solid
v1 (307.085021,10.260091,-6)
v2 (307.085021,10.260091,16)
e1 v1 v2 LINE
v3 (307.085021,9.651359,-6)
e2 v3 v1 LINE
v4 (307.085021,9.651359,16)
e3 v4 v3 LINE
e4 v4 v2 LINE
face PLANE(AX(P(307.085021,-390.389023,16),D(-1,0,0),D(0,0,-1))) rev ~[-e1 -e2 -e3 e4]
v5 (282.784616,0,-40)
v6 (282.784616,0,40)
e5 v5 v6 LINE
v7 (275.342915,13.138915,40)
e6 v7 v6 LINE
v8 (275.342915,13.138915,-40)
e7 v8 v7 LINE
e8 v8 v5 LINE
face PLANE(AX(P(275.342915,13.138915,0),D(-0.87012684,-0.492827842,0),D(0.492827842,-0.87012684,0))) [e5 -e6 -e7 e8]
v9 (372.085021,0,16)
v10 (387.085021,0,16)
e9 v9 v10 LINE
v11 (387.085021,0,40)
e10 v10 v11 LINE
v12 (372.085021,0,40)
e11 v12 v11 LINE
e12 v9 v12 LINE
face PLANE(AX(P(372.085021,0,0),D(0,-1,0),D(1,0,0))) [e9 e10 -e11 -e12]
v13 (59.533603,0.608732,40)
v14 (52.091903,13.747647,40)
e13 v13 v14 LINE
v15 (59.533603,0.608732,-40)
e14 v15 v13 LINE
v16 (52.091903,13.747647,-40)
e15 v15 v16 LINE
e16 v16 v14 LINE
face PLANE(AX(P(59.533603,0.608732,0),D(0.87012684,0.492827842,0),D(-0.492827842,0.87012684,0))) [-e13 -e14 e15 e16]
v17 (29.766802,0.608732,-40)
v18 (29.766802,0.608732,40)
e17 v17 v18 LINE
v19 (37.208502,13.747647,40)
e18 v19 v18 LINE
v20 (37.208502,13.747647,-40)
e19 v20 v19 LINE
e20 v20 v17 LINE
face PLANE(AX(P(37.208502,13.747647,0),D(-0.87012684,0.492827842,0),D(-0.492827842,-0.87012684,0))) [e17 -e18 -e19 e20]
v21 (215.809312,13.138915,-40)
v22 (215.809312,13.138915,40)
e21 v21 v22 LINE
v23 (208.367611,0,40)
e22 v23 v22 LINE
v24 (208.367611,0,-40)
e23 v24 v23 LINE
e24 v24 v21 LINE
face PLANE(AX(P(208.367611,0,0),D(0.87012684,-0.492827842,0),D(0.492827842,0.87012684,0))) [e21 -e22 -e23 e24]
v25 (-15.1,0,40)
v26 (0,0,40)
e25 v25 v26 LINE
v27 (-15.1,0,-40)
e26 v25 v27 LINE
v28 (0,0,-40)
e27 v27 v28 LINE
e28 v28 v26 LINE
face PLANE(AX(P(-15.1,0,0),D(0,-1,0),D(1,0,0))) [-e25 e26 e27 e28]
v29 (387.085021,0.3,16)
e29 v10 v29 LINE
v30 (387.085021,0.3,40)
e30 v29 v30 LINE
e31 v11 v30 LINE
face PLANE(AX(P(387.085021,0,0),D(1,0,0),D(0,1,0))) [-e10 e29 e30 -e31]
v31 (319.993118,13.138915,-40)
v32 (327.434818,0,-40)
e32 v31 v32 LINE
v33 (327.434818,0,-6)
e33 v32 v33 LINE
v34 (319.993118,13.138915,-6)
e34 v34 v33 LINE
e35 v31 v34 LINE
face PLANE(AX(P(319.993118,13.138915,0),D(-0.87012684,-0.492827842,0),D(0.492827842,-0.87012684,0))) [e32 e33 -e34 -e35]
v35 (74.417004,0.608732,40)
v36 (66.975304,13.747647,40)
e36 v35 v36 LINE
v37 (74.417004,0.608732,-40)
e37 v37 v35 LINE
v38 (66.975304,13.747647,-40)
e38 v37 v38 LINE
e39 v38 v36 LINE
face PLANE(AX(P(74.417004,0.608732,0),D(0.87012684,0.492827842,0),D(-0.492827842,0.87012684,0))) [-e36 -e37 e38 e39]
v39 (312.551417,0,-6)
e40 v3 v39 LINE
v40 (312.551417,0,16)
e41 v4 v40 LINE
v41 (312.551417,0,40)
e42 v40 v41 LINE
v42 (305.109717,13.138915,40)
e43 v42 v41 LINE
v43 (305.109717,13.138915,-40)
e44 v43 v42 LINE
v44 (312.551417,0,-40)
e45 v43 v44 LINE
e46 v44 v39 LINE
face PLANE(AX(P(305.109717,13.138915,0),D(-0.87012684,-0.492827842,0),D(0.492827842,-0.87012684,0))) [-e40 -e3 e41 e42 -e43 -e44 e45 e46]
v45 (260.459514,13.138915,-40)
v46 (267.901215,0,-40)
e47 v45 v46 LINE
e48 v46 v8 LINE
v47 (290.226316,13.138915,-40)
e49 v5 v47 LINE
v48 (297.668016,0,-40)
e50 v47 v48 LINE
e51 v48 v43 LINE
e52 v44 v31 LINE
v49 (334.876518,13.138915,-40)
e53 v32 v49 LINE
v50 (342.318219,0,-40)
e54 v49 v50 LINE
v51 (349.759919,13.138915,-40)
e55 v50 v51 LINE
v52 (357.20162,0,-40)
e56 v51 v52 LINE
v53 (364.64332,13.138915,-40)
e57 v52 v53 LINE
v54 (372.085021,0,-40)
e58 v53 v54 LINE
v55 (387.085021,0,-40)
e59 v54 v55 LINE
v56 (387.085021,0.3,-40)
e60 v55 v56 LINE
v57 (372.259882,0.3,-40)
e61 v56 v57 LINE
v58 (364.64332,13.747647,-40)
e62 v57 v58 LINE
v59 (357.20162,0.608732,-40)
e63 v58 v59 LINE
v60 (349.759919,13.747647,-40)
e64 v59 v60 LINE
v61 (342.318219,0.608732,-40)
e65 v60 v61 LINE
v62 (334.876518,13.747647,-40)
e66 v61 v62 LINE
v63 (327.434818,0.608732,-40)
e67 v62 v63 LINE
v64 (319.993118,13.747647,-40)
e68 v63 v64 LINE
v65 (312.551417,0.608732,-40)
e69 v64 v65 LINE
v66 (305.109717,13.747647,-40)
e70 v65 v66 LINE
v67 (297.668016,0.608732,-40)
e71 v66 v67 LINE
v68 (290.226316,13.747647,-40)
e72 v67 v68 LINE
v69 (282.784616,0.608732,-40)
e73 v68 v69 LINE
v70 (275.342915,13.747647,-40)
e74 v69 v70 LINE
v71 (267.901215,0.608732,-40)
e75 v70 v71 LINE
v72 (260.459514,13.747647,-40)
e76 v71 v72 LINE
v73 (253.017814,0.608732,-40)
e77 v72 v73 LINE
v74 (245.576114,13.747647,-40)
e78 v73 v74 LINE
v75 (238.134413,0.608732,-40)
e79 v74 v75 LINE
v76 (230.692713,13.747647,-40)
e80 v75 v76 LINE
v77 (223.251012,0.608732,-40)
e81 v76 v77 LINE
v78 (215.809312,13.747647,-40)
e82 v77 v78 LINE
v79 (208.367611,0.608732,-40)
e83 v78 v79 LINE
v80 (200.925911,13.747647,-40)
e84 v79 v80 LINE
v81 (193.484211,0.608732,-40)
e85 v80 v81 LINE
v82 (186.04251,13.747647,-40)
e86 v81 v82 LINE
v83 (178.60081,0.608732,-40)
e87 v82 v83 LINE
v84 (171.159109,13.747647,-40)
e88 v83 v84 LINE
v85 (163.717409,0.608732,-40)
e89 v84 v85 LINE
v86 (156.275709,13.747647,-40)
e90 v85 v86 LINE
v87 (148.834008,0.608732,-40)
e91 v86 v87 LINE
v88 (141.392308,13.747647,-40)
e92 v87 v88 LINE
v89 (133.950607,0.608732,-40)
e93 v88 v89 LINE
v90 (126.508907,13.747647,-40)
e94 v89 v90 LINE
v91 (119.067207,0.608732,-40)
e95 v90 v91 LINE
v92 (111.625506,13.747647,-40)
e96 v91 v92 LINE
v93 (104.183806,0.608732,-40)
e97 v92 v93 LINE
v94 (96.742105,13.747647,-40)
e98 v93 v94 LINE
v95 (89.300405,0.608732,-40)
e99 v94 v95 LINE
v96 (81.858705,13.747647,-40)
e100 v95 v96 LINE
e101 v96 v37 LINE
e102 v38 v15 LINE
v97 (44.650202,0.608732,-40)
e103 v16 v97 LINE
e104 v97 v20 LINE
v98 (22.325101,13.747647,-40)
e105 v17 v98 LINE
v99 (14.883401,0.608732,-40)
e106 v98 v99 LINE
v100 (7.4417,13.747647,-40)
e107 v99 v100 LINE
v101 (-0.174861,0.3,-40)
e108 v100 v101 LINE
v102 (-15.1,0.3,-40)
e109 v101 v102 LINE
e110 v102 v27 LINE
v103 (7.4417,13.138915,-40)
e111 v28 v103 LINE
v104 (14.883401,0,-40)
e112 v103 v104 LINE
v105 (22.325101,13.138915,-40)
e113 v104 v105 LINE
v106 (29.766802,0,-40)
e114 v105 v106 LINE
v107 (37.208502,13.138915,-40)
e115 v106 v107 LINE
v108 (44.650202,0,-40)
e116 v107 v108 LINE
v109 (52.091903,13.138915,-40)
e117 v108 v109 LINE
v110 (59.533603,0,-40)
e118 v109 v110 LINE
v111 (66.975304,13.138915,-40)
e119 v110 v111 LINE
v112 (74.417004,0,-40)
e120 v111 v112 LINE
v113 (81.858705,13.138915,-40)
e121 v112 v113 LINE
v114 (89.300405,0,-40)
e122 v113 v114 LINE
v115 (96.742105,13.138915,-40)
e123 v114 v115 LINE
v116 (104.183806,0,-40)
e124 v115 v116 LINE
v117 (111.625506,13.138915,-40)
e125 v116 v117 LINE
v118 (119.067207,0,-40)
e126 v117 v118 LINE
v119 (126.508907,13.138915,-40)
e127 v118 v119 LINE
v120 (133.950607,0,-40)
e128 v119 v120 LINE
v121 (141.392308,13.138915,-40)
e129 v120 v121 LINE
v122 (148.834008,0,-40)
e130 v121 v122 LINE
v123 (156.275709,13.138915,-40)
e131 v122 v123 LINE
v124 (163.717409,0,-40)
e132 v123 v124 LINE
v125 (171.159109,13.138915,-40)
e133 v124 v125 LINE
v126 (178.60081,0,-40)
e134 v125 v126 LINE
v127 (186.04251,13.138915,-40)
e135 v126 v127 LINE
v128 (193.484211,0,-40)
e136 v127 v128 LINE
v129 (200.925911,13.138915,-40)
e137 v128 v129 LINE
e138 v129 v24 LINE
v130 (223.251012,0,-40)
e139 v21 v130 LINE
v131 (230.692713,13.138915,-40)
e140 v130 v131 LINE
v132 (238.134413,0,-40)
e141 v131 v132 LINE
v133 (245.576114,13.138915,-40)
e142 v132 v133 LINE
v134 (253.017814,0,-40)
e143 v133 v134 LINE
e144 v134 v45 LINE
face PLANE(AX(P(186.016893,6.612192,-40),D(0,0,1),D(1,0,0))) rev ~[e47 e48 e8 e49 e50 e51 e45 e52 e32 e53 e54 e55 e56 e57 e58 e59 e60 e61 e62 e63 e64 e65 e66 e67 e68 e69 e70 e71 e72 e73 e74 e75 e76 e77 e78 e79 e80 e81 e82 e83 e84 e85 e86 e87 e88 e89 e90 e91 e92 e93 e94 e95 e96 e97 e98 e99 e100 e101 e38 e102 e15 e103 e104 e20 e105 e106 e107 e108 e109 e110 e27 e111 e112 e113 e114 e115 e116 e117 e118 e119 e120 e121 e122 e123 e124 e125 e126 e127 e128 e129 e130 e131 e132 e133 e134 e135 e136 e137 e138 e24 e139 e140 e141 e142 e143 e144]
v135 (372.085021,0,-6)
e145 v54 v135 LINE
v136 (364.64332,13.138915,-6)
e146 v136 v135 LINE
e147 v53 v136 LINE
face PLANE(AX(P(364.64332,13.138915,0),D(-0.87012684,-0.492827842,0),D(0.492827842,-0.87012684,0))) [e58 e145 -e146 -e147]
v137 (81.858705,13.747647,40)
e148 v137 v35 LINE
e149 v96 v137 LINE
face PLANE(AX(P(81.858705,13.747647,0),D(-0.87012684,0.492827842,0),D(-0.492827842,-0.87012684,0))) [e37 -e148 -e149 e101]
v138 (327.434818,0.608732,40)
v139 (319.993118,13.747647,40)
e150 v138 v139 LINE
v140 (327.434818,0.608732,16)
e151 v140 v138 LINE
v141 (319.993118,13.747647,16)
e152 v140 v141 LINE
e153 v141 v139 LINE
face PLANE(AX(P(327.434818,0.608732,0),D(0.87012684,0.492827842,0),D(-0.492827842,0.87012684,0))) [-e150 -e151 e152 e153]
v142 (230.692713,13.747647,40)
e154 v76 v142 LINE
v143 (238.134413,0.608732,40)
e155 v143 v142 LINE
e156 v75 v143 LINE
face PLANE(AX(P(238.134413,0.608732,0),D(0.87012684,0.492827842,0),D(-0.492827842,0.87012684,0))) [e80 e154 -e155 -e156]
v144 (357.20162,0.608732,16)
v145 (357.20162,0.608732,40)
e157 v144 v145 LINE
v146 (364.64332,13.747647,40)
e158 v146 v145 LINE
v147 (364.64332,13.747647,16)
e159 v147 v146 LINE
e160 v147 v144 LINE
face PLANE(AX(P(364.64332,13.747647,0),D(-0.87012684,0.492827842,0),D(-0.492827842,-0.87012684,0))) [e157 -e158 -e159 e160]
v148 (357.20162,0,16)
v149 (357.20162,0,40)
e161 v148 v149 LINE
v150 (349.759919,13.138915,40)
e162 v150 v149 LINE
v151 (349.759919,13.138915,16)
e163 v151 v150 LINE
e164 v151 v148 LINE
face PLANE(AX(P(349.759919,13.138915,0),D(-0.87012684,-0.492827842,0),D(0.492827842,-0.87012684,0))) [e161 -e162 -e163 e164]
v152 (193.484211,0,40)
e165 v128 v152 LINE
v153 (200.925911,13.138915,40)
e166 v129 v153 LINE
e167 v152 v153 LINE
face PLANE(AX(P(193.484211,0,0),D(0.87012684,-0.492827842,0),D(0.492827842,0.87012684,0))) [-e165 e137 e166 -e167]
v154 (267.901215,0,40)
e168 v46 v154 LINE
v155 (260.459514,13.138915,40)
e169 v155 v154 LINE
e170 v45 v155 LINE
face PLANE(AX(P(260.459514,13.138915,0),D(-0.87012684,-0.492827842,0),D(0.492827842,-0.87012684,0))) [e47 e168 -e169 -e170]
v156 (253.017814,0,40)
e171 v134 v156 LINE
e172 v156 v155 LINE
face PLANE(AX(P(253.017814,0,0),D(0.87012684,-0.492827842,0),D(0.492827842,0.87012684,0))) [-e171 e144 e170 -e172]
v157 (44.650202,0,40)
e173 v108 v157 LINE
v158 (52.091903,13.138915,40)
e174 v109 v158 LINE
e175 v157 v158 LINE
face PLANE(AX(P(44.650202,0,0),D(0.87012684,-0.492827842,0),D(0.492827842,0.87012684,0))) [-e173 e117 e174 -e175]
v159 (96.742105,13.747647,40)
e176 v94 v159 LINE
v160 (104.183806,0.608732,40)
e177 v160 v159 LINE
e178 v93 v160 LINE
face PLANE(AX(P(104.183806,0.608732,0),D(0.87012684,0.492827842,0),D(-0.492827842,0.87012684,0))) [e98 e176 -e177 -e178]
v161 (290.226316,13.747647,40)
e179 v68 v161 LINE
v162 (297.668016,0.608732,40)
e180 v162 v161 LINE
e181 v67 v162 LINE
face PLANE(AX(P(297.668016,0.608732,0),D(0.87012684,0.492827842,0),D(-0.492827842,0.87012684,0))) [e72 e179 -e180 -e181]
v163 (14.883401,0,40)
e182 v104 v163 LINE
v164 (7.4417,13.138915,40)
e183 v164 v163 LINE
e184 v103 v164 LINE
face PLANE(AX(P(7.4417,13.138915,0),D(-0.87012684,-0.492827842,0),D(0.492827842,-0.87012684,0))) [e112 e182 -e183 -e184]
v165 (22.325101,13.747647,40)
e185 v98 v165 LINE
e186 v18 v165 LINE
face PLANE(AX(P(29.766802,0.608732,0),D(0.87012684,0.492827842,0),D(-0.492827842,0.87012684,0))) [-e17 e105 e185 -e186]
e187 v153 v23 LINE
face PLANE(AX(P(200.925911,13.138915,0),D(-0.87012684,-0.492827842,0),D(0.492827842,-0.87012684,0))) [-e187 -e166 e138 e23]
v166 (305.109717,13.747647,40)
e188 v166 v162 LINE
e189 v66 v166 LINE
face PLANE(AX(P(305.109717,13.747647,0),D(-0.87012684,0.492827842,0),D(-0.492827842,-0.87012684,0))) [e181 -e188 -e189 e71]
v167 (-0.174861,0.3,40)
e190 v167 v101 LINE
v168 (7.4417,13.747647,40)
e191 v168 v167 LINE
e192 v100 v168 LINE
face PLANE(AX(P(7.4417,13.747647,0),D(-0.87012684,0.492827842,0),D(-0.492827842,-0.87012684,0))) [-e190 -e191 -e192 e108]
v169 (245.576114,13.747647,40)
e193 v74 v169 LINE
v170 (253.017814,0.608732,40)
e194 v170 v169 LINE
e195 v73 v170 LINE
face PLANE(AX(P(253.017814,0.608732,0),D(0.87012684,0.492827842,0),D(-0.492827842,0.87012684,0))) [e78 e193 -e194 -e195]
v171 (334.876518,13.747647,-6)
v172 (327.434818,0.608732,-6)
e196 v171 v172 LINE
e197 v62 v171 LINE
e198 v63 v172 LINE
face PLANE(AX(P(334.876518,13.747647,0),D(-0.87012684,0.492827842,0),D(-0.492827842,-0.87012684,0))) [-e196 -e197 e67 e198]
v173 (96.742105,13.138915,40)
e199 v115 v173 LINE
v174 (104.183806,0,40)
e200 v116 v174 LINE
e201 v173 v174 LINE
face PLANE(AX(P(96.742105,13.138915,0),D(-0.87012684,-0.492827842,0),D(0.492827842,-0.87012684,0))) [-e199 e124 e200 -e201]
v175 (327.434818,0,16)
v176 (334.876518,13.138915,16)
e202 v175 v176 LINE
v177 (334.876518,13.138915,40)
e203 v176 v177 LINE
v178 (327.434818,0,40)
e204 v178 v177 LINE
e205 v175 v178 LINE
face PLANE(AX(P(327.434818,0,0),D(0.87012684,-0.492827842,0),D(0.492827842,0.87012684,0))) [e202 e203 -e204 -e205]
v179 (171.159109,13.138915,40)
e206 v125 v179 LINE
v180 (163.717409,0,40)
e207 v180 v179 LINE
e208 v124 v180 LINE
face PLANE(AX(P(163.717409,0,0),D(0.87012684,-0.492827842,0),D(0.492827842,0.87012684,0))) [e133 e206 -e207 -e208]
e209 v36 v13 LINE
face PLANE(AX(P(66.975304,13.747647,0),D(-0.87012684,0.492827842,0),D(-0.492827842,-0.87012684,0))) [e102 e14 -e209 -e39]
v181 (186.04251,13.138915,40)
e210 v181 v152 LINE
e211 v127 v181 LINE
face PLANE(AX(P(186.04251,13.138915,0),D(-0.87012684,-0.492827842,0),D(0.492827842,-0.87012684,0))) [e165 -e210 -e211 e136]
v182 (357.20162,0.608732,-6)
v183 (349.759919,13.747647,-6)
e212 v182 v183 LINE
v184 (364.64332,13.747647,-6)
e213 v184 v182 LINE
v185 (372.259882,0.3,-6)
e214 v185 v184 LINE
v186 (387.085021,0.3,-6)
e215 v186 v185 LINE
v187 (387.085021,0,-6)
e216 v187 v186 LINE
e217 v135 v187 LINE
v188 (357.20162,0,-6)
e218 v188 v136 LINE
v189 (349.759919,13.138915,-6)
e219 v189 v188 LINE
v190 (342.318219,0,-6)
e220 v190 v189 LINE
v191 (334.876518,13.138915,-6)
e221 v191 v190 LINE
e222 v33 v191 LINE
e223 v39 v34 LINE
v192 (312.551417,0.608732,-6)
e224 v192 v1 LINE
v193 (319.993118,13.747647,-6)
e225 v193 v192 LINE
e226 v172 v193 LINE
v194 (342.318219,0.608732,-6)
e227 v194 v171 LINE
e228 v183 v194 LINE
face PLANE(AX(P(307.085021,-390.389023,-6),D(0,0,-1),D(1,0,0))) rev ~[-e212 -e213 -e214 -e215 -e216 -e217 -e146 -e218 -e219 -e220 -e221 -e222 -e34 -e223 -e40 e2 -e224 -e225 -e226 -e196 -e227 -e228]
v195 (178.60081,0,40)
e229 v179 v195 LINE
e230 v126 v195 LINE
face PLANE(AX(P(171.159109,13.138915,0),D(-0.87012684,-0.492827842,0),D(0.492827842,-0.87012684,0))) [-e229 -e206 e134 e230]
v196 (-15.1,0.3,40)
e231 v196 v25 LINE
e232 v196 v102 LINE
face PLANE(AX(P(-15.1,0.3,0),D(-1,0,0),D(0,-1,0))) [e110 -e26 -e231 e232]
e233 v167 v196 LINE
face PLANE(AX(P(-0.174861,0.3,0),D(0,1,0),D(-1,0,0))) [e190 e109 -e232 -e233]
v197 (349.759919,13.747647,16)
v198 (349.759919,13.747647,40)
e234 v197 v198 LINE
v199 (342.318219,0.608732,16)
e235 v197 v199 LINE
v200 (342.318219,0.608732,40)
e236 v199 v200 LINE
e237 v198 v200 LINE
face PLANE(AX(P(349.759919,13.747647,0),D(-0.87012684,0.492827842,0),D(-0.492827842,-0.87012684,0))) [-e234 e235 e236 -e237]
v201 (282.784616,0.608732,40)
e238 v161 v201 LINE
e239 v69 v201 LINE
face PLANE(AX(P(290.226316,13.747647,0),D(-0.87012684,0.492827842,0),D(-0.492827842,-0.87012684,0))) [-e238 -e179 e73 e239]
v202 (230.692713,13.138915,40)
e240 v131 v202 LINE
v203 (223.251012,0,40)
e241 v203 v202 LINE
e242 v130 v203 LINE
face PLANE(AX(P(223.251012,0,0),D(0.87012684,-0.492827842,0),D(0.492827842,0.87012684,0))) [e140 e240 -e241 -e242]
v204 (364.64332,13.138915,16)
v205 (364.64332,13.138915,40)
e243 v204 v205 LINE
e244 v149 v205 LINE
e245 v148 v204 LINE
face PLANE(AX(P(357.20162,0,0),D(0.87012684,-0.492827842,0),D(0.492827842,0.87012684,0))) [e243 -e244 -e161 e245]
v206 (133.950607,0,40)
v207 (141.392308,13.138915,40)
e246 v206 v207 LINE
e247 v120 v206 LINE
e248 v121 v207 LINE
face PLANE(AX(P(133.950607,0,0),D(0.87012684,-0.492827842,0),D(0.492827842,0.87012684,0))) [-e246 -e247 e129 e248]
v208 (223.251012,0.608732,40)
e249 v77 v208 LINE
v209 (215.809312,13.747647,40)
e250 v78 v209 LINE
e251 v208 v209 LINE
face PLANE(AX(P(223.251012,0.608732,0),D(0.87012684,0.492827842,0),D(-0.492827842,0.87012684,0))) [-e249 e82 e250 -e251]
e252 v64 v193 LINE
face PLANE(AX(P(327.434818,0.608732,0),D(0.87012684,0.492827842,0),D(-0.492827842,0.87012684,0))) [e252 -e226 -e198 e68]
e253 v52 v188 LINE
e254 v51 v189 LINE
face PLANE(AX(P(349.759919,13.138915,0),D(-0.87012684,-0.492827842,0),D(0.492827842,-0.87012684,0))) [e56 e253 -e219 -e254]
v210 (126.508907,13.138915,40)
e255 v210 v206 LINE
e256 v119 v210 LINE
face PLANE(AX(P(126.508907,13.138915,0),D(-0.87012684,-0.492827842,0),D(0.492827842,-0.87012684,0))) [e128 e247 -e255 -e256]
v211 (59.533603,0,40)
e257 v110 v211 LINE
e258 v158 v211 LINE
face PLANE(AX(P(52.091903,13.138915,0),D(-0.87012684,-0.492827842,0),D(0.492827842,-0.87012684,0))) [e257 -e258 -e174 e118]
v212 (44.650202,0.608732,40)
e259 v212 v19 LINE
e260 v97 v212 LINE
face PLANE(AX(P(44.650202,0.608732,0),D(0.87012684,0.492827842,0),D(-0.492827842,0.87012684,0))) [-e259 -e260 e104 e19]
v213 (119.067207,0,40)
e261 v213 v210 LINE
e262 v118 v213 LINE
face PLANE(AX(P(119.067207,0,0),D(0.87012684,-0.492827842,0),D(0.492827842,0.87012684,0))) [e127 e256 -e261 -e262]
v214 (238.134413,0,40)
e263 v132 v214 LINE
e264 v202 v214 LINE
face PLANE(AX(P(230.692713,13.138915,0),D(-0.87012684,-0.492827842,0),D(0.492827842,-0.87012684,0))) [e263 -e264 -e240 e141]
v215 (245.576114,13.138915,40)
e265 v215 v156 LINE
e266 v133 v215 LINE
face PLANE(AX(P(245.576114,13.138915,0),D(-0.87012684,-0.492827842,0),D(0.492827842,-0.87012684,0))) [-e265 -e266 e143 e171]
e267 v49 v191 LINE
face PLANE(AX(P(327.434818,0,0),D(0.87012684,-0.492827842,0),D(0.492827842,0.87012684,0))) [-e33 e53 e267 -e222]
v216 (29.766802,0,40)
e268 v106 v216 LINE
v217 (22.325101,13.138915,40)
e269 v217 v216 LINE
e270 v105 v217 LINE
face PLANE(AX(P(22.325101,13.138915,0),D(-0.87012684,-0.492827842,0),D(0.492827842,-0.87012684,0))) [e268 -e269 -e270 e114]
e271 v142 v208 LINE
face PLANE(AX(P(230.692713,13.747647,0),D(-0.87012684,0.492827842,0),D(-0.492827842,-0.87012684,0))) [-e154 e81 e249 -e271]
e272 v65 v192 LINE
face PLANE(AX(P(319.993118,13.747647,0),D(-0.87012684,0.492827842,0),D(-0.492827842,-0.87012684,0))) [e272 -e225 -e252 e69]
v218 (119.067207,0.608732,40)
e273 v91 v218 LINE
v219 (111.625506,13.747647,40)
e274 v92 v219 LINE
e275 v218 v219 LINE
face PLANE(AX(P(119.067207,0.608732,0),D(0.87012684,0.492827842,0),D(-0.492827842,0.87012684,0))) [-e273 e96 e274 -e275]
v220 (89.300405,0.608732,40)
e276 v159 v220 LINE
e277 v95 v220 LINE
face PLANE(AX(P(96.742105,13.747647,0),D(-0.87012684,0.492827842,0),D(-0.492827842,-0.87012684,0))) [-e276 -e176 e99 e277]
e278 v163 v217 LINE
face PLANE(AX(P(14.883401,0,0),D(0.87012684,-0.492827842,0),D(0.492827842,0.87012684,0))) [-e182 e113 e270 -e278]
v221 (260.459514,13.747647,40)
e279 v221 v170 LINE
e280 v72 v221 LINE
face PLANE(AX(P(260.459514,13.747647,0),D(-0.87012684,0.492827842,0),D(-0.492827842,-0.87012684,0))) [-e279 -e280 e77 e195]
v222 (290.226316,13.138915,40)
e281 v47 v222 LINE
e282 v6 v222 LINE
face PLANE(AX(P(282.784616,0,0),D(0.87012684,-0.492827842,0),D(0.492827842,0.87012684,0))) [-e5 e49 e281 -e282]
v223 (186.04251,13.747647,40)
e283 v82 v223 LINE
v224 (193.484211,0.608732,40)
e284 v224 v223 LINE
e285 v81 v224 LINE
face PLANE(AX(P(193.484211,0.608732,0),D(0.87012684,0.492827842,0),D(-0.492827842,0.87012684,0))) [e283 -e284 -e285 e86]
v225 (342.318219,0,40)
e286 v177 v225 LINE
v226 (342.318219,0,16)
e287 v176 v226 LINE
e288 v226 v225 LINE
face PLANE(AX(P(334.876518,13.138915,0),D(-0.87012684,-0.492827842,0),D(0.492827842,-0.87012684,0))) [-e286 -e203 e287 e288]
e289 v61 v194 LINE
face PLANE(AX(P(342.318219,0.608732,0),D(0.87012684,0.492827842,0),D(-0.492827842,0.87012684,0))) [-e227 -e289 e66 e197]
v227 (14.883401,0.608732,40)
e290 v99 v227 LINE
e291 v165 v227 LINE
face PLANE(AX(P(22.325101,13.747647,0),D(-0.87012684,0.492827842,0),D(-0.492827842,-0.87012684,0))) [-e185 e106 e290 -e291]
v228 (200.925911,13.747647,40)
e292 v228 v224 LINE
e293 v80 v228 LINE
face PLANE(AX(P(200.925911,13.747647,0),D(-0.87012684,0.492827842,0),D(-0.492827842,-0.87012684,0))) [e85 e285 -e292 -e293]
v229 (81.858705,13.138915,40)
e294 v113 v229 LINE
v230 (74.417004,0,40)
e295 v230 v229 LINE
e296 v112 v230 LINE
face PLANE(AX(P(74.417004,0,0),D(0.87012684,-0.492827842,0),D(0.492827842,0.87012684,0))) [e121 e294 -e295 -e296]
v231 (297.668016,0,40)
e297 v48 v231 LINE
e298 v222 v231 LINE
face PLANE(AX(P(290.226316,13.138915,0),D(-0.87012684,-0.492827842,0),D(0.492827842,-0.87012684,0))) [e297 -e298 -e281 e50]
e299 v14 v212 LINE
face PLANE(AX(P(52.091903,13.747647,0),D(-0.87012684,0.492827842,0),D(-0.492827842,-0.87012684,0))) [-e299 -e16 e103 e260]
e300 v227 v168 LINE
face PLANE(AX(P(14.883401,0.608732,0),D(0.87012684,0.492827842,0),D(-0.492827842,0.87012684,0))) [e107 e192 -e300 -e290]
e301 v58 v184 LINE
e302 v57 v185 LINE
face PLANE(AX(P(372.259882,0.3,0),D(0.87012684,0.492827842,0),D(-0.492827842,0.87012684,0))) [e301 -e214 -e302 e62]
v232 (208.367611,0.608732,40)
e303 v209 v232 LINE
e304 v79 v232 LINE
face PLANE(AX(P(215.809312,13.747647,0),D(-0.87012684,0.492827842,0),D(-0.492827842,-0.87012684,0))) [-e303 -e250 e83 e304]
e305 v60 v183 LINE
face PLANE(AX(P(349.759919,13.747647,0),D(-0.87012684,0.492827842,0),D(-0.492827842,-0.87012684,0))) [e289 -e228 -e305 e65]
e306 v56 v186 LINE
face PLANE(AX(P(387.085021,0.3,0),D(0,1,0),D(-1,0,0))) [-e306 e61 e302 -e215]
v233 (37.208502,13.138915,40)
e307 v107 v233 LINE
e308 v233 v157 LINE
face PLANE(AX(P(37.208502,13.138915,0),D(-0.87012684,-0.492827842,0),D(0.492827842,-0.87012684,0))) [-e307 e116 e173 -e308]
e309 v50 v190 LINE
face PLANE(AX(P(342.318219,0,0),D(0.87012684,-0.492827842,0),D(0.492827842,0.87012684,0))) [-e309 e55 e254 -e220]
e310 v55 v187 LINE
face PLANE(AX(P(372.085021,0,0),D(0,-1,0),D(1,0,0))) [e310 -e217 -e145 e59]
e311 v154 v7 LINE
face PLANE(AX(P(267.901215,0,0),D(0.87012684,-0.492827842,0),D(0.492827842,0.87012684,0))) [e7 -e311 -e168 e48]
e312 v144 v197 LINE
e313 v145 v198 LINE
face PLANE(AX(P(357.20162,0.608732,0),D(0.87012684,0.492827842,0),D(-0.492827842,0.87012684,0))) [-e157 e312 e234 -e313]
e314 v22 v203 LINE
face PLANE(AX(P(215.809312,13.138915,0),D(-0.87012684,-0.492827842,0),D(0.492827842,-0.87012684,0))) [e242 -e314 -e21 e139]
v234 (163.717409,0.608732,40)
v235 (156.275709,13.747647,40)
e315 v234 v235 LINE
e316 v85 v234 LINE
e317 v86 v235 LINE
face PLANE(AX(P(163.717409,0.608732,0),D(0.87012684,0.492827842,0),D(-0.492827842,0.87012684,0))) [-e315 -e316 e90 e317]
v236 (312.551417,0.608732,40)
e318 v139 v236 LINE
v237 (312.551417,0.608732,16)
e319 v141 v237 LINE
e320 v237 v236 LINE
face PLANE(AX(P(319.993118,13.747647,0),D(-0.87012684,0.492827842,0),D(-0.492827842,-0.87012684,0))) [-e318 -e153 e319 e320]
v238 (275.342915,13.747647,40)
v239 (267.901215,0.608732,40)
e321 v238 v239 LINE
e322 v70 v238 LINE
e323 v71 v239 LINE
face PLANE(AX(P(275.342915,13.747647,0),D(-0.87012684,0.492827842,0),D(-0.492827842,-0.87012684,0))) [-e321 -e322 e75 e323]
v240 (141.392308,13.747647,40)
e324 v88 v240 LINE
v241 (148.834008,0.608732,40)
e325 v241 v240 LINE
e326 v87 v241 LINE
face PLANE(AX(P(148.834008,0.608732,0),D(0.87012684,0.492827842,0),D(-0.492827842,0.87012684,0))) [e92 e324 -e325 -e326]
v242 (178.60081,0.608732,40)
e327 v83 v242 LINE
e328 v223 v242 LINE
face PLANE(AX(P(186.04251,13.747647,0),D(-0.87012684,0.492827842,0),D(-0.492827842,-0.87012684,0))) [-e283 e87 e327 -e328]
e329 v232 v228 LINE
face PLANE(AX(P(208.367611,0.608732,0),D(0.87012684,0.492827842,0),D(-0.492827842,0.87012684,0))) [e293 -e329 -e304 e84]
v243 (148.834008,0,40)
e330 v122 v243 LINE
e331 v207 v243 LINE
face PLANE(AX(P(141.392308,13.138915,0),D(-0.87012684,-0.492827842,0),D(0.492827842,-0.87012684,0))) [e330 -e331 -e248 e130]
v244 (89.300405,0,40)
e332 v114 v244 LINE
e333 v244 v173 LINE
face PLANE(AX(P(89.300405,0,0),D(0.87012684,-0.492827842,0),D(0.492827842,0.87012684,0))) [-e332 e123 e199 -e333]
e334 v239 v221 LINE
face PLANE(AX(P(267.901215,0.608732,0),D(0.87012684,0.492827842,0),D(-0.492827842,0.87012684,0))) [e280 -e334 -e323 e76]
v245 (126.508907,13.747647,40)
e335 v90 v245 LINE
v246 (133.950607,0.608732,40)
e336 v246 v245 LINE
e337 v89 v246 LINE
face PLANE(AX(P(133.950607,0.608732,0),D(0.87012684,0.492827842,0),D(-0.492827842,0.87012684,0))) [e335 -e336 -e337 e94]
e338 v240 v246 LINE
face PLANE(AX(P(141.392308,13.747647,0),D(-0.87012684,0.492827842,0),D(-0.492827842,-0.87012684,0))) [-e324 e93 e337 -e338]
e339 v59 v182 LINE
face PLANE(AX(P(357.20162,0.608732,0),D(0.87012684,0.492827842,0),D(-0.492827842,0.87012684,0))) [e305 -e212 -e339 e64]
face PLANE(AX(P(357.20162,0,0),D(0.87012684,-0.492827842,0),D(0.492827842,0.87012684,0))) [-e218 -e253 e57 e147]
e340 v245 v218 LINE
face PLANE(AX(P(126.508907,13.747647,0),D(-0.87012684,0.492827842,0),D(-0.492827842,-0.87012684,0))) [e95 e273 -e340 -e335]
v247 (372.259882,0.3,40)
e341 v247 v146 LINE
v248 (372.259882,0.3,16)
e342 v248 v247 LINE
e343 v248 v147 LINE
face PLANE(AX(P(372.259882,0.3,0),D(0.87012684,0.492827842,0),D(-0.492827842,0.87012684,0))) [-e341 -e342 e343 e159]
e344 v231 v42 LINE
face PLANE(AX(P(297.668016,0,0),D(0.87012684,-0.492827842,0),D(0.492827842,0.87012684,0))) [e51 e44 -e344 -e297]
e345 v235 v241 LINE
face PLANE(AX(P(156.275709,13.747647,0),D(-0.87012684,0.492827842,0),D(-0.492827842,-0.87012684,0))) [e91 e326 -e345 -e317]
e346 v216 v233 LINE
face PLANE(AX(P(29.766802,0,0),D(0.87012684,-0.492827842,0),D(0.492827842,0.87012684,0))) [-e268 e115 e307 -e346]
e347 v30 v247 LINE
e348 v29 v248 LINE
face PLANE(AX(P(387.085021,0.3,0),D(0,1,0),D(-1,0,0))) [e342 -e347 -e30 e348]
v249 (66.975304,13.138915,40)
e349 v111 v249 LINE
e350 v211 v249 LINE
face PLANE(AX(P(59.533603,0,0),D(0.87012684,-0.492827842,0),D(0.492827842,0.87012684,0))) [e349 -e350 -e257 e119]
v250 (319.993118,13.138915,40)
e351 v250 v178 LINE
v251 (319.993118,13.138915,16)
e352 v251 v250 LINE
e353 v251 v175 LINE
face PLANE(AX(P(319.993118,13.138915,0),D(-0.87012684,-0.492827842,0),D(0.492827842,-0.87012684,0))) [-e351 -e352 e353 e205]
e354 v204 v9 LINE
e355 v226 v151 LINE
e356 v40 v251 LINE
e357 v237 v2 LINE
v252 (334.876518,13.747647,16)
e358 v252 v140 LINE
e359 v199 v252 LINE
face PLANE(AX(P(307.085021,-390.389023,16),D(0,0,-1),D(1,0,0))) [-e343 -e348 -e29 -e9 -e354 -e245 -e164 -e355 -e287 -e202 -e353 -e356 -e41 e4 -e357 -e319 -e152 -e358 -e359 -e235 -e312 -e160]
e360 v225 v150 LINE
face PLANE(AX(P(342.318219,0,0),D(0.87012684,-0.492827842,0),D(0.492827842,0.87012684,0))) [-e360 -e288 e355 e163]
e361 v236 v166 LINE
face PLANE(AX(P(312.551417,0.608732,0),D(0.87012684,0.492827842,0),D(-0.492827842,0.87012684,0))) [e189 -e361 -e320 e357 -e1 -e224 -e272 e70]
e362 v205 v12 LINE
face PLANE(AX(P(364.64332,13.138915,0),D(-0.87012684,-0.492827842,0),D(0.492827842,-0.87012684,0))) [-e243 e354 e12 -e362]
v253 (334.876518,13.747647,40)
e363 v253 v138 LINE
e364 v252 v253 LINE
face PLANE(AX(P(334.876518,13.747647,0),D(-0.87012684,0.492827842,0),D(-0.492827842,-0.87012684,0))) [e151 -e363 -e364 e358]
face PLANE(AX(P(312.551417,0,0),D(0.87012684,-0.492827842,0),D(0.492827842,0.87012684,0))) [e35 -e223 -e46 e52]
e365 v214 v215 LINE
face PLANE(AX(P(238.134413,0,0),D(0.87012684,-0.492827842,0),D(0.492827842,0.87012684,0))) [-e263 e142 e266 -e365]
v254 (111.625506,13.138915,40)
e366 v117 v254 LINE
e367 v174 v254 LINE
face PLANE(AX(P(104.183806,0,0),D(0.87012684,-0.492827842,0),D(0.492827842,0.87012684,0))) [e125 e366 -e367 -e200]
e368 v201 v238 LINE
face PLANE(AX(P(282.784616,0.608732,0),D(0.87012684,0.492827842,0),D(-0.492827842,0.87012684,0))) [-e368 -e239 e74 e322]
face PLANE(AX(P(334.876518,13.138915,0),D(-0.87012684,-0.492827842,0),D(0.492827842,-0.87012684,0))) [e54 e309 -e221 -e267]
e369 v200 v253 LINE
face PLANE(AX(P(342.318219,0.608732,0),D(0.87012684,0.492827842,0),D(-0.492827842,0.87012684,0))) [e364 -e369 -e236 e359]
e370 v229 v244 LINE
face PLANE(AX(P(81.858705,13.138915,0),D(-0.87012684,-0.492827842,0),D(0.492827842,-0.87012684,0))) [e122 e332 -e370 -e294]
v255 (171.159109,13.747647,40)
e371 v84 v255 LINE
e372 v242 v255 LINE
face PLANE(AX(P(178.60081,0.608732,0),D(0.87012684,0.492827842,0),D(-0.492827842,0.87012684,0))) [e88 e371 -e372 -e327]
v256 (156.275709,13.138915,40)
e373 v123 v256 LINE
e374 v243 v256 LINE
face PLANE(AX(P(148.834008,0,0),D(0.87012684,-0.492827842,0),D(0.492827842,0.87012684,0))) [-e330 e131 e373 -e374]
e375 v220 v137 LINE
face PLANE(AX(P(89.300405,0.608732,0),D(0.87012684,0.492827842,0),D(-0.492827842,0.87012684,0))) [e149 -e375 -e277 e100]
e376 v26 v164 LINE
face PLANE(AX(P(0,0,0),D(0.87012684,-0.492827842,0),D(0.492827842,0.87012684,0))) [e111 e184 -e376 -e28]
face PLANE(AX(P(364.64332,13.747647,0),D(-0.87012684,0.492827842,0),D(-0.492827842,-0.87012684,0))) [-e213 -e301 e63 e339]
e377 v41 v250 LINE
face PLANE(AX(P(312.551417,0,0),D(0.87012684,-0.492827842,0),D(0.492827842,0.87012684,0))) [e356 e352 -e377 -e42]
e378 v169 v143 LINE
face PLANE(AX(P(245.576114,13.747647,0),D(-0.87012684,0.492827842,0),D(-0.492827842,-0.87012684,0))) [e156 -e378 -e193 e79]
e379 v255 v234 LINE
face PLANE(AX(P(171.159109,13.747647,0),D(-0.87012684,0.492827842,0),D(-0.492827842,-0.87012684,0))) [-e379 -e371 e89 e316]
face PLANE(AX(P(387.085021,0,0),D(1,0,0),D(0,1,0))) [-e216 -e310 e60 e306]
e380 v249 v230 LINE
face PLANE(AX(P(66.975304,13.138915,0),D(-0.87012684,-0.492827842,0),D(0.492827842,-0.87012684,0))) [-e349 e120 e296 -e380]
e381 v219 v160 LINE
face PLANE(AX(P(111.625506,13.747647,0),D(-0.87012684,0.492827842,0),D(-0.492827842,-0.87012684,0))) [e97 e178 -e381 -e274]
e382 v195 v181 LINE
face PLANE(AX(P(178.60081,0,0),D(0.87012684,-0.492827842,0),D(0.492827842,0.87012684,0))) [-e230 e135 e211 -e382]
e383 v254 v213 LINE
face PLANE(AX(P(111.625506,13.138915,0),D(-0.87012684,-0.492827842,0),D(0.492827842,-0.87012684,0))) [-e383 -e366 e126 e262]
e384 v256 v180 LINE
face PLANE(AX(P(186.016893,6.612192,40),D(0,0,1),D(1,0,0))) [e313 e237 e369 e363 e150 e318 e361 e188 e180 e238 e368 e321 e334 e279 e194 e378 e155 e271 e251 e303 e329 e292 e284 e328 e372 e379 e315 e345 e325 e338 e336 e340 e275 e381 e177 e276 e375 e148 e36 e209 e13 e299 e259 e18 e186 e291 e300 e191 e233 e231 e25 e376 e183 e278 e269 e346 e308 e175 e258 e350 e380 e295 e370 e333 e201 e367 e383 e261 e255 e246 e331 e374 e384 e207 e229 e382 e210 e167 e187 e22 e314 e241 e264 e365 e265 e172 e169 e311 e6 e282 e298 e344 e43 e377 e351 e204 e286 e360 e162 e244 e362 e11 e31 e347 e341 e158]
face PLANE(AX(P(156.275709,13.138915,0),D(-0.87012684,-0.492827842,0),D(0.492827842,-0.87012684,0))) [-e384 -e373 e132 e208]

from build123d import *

# Parameters (mm, degrees)
EXTRUDE_THIN1_DEPTH     = 40
CUT_EXTRUDE4_DEPTH      = 390.389022579
CUT_EXTRUDE4_DEPTH_BACK = 390.389022579
SKETCH2_W               = 80
SKETCH2_H               = 22


with BuildPart() as part:
    # Sketch1 → Extrude-Thin1 (new, symmetric)
    with BuildSketch(Plane.XY):
        Polygon((-15.1, 0), (0, 0), (7.44170041, 13.13891529), (14.88340082, 0), (22.325101231, 13.13891529), (29.766801641, 0), (37.208502051, 13.13891529), (44.650202461, 0), (52.091902871, 13.13891529), (59.533603282, 0), (66.975303692, 13.13891529), (74.417004102, 0), (81.858704512, 13.13891529), (89.300404922, 0), (96.742105333, 13.13891529), (104.183805743, 0), (111.625506153, 13.13891529), (119.067206563, 0), (126.508906973, 13.13891529), (133.950607384, 0), (141.392307794, 13.13891529), (148.834008204, 0), (156.275708614, 13.13891529), (163.717409024, 0), (171.159109435, 13.13891529), (178.600809845, 0), (186.042510255, 13.13891529), (193.484210665, 0), (200.925911075, 13.13891529), (208.367611485, 0), (215.809311896, 13.13891529), (223.251012306, 0), (230.692712716, 13.13891529), (238.134413126, 0), (245.576113536, 13.13891529), (253.017813947, 0), (260.459514357, 13.13891529), (267.901214767, 0), (275.342915177, 13.13891529), (282.784615587, 0), (290.226315998, 13.13891529), (297.668016408, 0), (305.109716818, 13.13891529), (312.551417228, 0), (319.993117638, 13.13891529), (327.434818049, 0), (334.876518459, 13.13891529), (342.318218869, 0), (349.759919279, 13.13891529), (357.201619689, 0), (364.6433201, 13.13891529), (372.08502051, 0), (387.08502051, 0), (387.08502051, 0.3), (372.259881967, 0.3), (364.6433201, 13.747647132), (357.201619689, 0.608731842), (349.759919279, 13.747647132), (342.318218869, 0.608731842), (334.876518459, 13.747647132), (327.434818049, 0.608731842), (319.993117638, 13.747647132), (312.551417228, 0.608731842), (305.109716818, 13.747647132), (297.668016408, 0.608731842), (290.226315998, 13.747647132), (282.784615587, 0.608731842), (275.342915177, 13.747647132), (267.901214767, 0.608731842), (260.459514357, 13.747647132), (253.017813947, 0.608731842), (245.576113536, 13.747647132), (238.134413126, 0.608731842), (230.692712716, 13.747647132), (223.251012306, 0.608731842), (215.809311896, 13.747647132), (208.367611485, 0.608731842), (200.925911075, 13.747647132), (193.484210665, 0.608731842), (186.042510255, 13.747647132), (178.600809845, 0.608731842), (171.159109435, 13.747647132), (163.717409024, 0.608731842), (156.275708614, 13.747647132), (148.834008204, 0.608731842), (141.392307794, 13.747647132), (133.950607384, 0.608731842), (126.508906973, 13.747647132), (119.067206563, 0.608731842), (111.625506153, 13.747647132), (104.183805743, 0.608731842), (96.742105333, 13.747647132), (89.300404922, 0.608731842), (81.858704512, 13.747647132), (74.417004102, 0.608731842), (66.975303692, 13.747647132), (59.533603282, 0.608731842), (52.091902871, 13.747647132), (44.650202461, 0.608731842), (37.208502051, 13.747647132), (29.766801641, 0.608731842), (22.325101231, 13.747647132), (14.88340082, 0.608731842), (7.44170041, 13.747647132), (-0.174861457, 0.3), (-15.1, 0.3), align=None)
    extrude(amount=EXTRUDE_THIN1_DEPTH, both=True)

    # Sketch2 → Cut-Extrude4 (cut, two sides: drawn at the far end of the back side and taken through both)
    with BuildSketch(Plane(origin=(0, 0, 0), x_dir=(1, 0, 0), z_dir=(0, 1, 0)).offset(-CUT_EXTRUDE4_DEPTH_BACK)):
        with Locations((347.08502051, -5)):
            Rectangle(SKETCH2_W, SKETCH2_H)
    extrude(amount=CUT_EXTRUDE4_DEPTH + CUT_EXTRUDE4_DEPTH_BACK, mode=Mode.SUBTRACT)


solid = part.part
